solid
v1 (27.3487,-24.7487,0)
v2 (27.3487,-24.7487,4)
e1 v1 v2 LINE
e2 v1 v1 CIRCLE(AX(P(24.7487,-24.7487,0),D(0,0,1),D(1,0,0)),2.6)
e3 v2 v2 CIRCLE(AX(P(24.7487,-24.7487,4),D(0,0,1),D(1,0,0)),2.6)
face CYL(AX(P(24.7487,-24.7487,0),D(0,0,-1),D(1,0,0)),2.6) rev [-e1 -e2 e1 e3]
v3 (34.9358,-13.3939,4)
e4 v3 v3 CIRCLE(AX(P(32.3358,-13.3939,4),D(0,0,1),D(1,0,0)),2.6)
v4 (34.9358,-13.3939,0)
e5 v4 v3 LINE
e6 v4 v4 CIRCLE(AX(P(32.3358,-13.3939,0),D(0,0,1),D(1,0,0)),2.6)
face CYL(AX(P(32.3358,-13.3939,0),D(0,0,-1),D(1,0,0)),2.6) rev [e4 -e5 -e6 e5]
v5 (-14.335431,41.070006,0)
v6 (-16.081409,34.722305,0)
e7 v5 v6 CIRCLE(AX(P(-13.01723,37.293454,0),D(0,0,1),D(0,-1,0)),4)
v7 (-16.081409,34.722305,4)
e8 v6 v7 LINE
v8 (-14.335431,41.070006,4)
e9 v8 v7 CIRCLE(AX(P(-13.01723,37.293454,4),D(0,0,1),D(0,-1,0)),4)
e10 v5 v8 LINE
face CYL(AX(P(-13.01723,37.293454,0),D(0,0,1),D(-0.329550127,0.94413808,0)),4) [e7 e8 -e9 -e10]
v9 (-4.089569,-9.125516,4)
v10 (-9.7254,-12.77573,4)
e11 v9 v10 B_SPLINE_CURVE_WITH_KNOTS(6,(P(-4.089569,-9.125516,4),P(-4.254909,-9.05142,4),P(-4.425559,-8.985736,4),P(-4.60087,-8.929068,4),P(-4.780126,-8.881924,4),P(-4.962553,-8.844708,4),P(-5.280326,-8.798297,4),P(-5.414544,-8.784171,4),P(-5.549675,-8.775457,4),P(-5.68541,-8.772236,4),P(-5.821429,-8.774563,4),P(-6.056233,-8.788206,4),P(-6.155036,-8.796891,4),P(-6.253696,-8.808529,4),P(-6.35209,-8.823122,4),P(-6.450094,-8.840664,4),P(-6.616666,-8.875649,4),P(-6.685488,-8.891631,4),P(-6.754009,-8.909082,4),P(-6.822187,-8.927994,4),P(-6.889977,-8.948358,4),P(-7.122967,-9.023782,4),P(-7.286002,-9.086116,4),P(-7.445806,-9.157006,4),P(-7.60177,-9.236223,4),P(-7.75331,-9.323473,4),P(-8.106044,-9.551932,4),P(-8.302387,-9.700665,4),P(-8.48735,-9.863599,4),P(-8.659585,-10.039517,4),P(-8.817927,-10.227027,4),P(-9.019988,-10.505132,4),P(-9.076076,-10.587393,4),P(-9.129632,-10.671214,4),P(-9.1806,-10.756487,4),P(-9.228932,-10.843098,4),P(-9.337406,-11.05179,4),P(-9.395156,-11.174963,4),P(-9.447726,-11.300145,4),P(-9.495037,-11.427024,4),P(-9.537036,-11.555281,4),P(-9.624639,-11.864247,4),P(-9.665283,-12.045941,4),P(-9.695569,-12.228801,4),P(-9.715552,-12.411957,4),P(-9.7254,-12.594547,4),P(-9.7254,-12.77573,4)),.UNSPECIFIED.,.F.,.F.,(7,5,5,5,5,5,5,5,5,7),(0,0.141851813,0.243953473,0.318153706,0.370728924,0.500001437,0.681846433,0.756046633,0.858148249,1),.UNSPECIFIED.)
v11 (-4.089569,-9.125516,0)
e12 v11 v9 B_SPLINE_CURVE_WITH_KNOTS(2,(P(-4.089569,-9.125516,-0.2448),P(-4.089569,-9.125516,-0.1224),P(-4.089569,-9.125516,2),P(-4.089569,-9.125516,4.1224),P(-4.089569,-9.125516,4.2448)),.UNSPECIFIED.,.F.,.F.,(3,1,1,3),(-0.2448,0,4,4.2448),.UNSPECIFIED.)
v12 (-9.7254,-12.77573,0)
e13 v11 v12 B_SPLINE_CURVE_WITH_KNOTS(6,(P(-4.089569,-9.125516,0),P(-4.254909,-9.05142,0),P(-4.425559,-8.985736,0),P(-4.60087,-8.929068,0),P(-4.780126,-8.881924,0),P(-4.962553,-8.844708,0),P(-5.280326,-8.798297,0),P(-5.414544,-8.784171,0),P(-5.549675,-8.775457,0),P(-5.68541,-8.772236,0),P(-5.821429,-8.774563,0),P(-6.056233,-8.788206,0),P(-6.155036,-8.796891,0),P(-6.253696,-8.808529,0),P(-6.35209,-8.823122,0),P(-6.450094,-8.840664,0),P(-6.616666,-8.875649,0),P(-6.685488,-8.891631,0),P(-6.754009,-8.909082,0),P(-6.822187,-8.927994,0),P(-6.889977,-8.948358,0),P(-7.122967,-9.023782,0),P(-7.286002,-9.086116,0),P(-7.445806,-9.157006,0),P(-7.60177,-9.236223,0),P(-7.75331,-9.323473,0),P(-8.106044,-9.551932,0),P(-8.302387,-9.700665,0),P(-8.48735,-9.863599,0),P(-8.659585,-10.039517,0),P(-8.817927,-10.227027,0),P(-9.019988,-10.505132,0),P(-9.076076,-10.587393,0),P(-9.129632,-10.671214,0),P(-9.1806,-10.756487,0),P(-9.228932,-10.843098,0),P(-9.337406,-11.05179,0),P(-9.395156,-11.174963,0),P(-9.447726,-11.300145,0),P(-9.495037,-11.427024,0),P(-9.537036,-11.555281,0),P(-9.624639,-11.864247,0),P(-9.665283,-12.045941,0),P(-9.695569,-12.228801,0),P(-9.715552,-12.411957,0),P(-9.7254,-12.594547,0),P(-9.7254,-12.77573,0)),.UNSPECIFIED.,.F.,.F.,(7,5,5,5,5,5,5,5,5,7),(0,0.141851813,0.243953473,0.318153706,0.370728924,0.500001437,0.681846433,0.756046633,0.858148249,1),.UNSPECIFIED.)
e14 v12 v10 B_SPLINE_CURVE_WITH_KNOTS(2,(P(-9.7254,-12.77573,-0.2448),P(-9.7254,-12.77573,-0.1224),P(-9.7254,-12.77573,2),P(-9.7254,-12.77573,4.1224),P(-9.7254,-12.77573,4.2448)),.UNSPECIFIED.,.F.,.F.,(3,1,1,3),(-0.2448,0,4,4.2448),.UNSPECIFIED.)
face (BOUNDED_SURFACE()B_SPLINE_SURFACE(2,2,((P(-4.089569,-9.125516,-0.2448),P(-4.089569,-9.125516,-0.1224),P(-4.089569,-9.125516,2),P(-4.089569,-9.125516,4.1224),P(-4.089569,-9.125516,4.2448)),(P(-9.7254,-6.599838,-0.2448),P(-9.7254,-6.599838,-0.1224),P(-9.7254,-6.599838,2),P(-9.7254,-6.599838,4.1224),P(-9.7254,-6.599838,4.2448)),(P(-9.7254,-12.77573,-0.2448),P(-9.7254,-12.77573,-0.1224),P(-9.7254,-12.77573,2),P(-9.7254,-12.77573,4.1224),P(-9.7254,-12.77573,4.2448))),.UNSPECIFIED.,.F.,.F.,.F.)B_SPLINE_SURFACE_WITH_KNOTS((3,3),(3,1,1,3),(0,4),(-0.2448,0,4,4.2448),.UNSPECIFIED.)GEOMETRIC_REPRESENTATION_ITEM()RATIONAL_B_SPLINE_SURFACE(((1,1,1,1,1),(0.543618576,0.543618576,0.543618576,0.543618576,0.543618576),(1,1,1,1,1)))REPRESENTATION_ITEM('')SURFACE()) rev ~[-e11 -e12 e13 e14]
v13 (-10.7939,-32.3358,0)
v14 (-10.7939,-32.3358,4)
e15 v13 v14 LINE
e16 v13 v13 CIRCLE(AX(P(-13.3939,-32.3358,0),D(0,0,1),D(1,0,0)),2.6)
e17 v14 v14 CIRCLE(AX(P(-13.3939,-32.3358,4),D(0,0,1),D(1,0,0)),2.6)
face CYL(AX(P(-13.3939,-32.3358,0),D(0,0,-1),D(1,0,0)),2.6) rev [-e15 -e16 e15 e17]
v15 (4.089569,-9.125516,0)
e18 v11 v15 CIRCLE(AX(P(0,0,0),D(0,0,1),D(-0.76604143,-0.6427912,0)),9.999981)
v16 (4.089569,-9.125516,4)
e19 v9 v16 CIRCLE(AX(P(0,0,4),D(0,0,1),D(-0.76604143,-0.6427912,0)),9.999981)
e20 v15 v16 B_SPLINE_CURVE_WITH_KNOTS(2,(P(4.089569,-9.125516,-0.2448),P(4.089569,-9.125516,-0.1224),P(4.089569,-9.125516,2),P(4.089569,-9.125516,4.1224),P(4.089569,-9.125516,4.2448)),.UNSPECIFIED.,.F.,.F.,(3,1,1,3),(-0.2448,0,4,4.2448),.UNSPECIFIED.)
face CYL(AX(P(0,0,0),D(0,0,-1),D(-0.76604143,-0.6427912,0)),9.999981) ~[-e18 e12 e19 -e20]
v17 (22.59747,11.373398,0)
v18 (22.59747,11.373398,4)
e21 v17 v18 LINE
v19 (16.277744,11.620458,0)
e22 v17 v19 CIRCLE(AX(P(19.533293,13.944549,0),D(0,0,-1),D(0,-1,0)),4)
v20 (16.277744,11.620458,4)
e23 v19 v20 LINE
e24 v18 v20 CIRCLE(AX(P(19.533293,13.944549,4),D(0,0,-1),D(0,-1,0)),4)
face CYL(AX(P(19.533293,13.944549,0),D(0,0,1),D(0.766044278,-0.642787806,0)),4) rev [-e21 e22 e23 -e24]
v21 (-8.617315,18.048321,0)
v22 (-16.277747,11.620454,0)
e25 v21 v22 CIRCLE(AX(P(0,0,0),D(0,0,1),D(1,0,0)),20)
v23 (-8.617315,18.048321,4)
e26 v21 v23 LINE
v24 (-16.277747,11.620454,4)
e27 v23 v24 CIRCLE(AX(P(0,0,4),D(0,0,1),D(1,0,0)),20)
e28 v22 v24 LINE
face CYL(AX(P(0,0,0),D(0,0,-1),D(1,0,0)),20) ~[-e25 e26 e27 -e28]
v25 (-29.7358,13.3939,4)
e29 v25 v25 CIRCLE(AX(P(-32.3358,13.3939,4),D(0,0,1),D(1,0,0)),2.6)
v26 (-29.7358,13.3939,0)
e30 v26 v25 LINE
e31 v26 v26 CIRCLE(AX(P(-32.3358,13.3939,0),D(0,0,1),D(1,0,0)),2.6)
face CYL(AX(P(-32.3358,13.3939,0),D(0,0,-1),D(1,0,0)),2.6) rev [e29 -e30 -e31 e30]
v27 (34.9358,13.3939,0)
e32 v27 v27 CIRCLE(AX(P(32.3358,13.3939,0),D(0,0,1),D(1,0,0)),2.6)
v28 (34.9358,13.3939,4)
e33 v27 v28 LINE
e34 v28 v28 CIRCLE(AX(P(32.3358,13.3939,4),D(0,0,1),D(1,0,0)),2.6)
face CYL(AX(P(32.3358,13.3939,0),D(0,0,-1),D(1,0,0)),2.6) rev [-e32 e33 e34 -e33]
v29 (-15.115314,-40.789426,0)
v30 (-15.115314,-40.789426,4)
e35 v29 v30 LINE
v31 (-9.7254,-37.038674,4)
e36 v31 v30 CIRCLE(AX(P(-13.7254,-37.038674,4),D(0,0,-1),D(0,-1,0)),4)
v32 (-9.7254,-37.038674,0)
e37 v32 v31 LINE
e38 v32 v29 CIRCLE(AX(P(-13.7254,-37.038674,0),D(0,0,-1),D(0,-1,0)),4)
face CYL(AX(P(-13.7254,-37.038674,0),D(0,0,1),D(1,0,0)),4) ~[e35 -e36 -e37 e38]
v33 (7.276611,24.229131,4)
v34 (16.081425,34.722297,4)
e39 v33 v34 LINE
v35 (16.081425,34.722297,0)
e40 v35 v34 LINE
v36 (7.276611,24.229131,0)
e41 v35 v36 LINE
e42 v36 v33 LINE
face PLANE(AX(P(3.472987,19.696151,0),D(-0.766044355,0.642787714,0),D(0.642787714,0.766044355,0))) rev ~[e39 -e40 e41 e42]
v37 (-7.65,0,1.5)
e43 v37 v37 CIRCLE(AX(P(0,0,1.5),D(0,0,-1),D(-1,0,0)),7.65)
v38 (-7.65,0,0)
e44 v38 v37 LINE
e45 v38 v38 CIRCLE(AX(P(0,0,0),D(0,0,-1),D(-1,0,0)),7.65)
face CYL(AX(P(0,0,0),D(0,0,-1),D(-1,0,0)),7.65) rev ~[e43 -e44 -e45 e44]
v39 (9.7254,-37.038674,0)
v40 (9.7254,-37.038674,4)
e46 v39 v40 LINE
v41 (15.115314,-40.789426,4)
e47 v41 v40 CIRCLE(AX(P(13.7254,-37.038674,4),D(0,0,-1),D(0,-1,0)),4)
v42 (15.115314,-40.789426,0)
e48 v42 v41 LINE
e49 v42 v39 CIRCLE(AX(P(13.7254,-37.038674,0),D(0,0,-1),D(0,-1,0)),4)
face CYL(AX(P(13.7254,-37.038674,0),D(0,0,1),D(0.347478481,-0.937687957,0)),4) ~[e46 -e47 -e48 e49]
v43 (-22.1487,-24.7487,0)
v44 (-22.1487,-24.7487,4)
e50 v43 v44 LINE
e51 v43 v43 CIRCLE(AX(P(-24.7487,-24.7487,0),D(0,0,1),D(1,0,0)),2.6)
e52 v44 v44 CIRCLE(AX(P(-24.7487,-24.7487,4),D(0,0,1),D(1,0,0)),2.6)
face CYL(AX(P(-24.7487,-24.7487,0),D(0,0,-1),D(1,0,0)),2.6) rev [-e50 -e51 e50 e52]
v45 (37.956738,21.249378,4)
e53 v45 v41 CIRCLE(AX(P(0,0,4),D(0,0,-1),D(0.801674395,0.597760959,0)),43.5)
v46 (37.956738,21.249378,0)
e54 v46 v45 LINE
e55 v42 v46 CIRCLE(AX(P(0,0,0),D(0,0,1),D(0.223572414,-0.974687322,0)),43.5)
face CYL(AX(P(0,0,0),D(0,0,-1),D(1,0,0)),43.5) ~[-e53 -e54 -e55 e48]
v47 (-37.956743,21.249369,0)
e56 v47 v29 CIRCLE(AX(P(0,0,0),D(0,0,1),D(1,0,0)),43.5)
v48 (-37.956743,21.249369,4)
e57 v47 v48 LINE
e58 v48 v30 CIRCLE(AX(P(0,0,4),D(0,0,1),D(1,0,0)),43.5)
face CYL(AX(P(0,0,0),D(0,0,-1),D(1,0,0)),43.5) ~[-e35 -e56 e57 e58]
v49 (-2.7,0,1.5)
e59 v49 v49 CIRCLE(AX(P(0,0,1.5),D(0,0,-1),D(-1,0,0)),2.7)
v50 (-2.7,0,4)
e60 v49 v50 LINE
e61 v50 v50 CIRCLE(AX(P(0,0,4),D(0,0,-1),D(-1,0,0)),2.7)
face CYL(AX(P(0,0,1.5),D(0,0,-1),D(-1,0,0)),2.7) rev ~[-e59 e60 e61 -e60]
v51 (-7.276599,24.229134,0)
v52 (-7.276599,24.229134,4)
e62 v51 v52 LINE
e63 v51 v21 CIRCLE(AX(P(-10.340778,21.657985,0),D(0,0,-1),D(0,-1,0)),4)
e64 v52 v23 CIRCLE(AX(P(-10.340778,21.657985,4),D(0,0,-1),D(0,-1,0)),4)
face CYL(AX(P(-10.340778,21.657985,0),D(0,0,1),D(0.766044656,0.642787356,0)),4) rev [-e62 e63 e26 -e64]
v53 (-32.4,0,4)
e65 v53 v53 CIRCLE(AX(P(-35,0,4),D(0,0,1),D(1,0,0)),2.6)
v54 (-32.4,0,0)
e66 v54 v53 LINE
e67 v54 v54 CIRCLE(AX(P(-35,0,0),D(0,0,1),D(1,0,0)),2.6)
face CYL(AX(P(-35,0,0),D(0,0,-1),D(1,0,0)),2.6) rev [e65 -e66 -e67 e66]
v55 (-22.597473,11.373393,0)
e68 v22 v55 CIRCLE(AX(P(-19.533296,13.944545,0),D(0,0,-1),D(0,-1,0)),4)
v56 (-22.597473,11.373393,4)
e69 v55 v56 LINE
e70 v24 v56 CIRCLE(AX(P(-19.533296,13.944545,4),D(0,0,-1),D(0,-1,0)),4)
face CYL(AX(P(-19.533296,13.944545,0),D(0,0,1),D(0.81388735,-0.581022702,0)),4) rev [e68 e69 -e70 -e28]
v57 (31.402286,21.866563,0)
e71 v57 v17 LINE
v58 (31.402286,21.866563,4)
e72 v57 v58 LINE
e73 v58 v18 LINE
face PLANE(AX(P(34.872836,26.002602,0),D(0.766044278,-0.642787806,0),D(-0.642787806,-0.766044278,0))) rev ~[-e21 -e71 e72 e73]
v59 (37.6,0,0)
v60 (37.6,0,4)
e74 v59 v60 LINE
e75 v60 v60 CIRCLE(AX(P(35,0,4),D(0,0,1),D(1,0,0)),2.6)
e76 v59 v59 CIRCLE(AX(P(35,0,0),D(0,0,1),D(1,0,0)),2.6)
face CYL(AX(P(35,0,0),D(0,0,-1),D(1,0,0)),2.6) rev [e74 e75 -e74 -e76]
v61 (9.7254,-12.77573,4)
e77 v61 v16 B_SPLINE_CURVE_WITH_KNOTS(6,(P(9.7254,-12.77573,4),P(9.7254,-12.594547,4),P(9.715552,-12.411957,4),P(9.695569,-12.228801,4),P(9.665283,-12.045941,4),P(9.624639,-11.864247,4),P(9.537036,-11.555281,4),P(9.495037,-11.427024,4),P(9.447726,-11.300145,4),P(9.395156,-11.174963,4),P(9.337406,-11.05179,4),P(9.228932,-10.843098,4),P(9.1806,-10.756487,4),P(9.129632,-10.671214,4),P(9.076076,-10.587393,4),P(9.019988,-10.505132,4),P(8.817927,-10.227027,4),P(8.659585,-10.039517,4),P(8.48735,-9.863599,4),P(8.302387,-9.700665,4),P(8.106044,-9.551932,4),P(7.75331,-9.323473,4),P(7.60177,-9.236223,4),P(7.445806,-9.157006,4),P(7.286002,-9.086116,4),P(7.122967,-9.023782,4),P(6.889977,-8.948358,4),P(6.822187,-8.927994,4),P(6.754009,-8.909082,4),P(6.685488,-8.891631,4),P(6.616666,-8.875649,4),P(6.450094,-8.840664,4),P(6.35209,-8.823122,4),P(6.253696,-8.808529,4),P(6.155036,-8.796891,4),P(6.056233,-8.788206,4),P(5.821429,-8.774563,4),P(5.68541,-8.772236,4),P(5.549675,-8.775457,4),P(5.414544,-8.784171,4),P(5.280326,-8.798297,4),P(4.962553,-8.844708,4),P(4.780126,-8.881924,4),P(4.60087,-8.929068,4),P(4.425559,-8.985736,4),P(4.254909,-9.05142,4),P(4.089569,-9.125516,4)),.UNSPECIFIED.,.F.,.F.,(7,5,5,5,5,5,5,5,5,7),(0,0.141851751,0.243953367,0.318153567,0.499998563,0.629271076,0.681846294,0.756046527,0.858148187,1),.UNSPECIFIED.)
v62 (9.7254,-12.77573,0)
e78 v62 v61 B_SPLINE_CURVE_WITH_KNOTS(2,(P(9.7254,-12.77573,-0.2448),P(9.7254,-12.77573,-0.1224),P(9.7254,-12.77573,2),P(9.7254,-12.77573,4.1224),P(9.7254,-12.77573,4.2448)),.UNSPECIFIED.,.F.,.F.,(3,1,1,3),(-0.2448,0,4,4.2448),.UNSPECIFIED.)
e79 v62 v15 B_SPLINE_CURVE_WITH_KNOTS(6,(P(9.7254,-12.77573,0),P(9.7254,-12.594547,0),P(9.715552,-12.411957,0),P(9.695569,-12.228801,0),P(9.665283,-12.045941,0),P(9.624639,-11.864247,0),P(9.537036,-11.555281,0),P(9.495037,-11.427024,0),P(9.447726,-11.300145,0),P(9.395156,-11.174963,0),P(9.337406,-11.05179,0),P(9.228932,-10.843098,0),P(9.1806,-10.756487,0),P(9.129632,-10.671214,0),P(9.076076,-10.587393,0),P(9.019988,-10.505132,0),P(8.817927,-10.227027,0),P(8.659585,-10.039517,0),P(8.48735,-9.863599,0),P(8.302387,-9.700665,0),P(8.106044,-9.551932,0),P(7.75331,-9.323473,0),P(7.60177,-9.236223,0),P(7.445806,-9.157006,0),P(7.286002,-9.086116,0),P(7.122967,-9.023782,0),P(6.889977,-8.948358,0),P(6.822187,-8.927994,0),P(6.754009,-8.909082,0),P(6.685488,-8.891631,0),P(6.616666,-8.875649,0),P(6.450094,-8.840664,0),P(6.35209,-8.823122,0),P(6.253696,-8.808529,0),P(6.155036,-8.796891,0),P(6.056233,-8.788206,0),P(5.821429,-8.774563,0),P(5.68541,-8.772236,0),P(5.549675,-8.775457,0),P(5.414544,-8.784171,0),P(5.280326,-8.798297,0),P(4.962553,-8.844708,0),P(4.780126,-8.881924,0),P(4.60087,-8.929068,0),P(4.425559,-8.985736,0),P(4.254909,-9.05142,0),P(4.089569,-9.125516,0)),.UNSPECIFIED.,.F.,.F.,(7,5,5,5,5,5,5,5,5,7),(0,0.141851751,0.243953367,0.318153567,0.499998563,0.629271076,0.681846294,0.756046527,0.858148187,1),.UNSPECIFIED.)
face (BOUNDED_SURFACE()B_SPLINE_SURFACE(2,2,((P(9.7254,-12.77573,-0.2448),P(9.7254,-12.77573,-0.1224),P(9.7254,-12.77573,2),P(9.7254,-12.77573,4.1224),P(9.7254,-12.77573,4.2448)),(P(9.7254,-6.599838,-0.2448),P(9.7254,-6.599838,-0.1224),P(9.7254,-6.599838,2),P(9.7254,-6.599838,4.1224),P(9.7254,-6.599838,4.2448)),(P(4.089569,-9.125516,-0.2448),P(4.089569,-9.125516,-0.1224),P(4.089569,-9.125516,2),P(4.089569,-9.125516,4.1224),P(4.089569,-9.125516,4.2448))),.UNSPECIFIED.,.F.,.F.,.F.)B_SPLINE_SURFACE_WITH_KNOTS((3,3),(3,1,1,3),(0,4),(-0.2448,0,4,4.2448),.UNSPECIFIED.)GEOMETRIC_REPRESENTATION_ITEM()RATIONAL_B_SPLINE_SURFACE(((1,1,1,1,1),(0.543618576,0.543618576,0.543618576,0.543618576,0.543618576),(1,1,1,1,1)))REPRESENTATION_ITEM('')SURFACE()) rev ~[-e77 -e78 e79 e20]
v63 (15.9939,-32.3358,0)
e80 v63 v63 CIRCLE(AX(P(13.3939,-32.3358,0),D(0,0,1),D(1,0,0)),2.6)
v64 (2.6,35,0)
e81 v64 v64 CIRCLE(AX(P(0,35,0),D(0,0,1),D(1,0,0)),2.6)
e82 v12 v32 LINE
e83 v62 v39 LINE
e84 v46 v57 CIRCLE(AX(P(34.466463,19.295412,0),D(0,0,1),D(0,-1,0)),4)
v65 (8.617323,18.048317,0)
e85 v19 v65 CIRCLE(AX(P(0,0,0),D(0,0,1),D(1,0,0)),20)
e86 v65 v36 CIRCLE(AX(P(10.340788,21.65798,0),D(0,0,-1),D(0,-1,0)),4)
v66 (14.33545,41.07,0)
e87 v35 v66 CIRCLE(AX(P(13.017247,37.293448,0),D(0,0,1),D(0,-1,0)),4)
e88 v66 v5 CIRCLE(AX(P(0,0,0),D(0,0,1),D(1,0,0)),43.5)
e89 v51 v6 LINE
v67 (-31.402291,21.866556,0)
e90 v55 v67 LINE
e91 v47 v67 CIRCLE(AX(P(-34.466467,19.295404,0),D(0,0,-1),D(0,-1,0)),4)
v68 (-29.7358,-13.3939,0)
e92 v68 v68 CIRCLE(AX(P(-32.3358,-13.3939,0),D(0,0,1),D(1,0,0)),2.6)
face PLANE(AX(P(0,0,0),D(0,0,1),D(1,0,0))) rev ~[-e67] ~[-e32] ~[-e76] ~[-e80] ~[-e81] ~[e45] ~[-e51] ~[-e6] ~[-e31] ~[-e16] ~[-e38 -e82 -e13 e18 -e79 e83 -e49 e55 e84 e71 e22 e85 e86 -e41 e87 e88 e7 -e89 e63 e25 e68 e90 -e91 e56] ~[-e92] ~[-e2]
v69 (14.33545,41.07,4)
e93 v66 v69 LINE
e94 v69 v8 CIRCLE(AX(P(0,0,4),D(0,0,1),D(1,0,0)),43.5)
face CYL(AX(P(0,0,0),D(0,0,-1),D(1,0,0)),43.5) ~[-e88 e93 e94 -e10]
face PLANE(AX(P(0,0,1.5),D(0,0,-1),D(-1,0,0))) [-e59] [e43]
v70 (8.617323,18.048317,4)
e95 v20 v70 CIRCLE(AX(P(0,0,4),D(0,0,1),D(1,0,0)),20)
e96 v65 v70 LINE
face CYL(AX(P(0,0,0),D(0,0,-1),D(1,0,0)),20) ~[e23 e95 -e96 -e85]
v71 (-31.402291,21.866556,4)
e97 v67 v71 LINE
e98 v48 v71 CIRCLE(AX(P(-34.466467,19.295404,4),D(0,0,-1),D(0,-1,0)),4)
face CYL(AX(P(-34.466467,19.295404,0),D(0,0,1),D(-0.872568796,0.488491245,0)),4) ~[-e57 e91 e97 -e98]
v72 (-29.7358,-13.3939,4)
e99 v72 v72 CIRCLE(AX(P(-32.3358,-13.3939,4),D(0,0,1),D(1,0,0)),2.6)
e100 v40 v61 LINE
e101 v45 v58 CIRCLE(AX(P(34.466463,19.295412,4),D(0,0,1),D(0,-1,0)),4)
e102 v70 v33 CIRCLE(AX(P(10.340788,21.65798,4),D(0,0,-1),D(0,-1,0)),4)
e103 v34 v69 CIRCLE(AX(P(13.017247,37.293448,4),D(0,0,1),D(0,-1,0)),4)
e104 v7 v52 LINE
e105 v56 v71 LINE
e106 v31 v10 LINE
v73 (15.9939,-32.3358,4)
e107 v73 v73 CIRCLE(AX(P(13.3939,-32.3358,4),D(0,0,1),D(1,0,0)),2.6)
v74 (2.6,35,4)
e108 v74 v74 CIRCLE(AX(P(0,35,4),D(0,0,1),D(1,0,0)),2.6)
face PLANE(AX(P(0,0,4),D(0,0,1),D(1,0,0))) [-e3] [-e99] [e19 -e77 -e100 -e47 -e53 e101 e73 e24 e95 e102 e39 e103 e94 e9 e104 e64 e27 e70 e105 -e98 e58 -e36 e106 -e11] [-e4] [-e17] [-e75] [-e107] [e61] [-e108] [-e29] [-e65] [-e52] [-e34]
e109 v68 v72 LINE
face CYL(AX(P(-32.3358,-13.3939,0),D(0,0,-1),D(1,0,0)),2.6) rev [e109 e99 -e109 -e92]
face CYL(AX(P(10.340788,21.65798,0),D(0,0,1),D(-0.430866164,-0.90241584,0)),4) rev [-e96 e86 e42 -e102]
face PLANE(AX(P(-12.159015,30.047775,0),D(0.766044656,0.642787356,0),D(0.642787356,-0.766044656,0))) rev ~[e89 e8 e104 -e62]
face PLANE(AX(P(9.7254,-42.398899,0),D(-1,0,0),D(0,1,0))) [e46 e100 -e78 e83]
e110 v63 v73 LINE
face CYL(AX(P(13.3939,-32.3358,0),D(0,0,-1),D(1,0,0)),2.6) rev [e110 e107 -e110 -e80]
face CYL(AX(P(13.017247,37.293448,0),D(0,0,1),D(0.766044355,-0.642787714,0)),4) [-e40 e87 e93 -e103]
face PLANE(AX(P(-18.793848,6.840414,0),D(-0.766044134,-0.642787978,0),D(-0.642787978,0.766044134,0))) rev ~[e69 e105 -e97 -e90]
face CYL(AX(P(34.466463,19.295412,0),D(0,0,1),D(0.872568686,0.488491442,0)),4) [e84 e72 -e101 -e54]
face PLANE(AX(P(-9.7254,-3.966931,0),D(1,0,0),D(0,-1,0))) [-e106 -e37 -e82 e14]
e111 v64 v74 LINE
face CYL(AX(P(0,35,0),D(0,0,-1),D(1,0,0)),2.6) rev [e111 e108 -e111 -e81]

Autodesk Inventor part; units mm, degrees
ref_plane "YZ Plane" through (0, 0, 0) normal (1, 0, 0) x (0, 1, 0)
ref_plane "XZ Plane" through (0, 0, 0) normal (0, 1, 0) x (-1, 0, 0)
ref_plane "XY Plane" through (0, 0, 0) normal (0, 0, 1) x (1, 0, 0)
sketch "Sketch1" plane through (0, 0, 0) normal (0, 0, 1) x (1, 0, 0)
  circle A0 centre (0, 0) radius 43.5
  circle A1 centre (0, 35) radius 2.6
  circle A2 centre (-13.3939, 32.3358) radius 2.6
  circle A3 centre (-24.7487, 24.7487) radius 2.6
  circle A4 centre (-32.3358, 13.3939) radius 2.6
  circle A5 centre (-35, 0) radius 2.6
  circle A6 centre (-32.3358, -13.3939) radius 2.6
  circle A7 centre (-24.7487, -24.7487) radius 2.6
  circle A8 centre (-13.3939, -32.3358) radius 2.6
  circle A9 centre (0, -35) radius 2.6
  circle A10 centre (13.3939, -32.3358) radius 2.6
  circle A11 centre (24.7487, -24.7487) radius 2.6
  circle A12 centre (32.3358, -13.3939) radius 2.6
  circle A13 centre (35, 0) radius 2.6
  circle A14 centre (32.3358, 13.3939) radius 2.6
  circle A15 centre (24.7487, 24.7487) radius 2.6
  circle A16 centre (13.3939, 32.3358) radius 2.6
  line L0 (0, 0) -> (0, -92.2535) construction
  line L1 (-9.7254, 0) -> (-9.7254, -92.2535)
  line L2 (9.7254, -92.2535) -> (9.7254, 0)
  arc A17 (9.7254, 0) -> (-9.7254, 0) centre (0, 0) ccw
  arc A18 (-9.7254, -92.2535) -> (9.7254, -92.2535) centre (0, -92.2535) ccw
  line L3 (0, 0) -> (-60.6432, 72.2718) construction
  line L4 (-7.6604, -6.4279) -> (-68.3037, 65.8439)
  line L5 (-52.9828, 78.6997) -> (7.6604, 6.4279)
  arc A19 (-7.6604, -6.4279) -> (7.6604, 6.4279) centre (0, 0) ccw
  arc A20 (-52.9828, 78.6997) -> (-68.3037, 65.8439) centre (-60.6432, 72.2718) ccw
  line L6 (0, 0) -> (65.9097, 78.5481) construction
  line L7 (-7.6604, 6.4279) -> (58.2493, 84.976)
  line L8 (73.5702, 72.1203) -> (7.6604, -6.4279)
  arc A21 (-7.6604, 6.4279) -> (7.6604, -6.4279) centre (0, 0) ccw
  arc A22 (73.5702, 72.1203) -> (58.2493, 84.976) centre (65.9097, 78.5481) ccw
  circle A23 centre (0, 0) radius 20
  point P0 (0, -46.1267)
  point P1 (-30.3216, 36.1359)
  point P2 (32.9549, 39.2741)
  point P3 (18.7939, 6.8404)
  point P4 (3.473, 19.6962)
  point P5 (19.552, 38.8583)
  point P6 (-19.552, 38.8583)
  point P7 (-3.473, 19.6962)
  point P8 (-18.7939, 6.8404)
  point P9 (-34.8728, 26.0026)
  point P10 (-9.7254, -42.3989)
  point P11 (-9.7254, -17.4762)
  point P12 (9.7254, -17.4762)
  point P13 (9.7254, -42.3989)
  point P14 (34.8728, 26.0026)
  point P15 (7.6604, -6.4279)
  point P16 (9.7254, -3.9669)
  point P17 (-9.7254, -3.9669)
  dimension "d0" = 87
  dimension "d1" = 5.2
  dimension "d2" = 35
  dimension "d5" = 360
  dimension "d7" = 140
  dimension "d8" = 140
  dimension "d9" = 10
  dimension "d10" = 10
  dimension "d11" = 40
extrude "Extrusion1" add sketch "Sketch1" along normal blind 4 contours A0 L2 A23 L8 | L7 A16 A23 L5 A2 A0 | A23 L2 L8 | L8 L2 A19 L5 L7 A23 | A0 L4 A23 L1 | L7 A16 | L8 A19 L2 | L7 L5 A23 | A23 L4 L1 | A2 L5 | A19 A21 L1 A17 L2 | L2 A17 L1 A21 L7 L5 A19 | L7 A21 L1 L4 A23 L5 | L1 A21 L4 picked at (13.6821, 33.106) picked at (-12.7209, 31.8549)
sketch "Sketch2" plane through (0, 0, 0) normal (0, 0, -1) x (-1, 0, 0)
  circle A0 centre (0, 0) radius 7.65
  dimension "d14" = 15.3
extrude "Extrusion2" cut sketch "Sketch2" against normal blind 1.5
sketch "Sketch3" plane through (0, 0, 1.5) normal (0, 0, -1) x (-1, 0, 0)
  circle A0 centre (0, 0) radius 2.7
  dimension "d17" = 5.4
extrude "Extrusion3" cut sketch "Sketch3" against normal up to surface (2.5 mm away)
fillet "Fillet1" radius 4 12 edges at (9.7254, -3.9669, 2) (-9.7254, -3.9669, 2) (3.473, 19.6962, 2) (18.7939, 6.8404, 2) (-18.7939, 6.8404, 2) (-3.473, 19.6962, 2) (34.8728, 26.0026, 2) (19.552, 38.8583, 2) (-19.552, 38.8583, 2) (-34.8728, 26.0026, 2) (-9.7254, -42.3989, 2) (9.7254, -42.3989, 2)
equation "\"d10\" = d9"
properties part number "LED disk_3DPrint"
